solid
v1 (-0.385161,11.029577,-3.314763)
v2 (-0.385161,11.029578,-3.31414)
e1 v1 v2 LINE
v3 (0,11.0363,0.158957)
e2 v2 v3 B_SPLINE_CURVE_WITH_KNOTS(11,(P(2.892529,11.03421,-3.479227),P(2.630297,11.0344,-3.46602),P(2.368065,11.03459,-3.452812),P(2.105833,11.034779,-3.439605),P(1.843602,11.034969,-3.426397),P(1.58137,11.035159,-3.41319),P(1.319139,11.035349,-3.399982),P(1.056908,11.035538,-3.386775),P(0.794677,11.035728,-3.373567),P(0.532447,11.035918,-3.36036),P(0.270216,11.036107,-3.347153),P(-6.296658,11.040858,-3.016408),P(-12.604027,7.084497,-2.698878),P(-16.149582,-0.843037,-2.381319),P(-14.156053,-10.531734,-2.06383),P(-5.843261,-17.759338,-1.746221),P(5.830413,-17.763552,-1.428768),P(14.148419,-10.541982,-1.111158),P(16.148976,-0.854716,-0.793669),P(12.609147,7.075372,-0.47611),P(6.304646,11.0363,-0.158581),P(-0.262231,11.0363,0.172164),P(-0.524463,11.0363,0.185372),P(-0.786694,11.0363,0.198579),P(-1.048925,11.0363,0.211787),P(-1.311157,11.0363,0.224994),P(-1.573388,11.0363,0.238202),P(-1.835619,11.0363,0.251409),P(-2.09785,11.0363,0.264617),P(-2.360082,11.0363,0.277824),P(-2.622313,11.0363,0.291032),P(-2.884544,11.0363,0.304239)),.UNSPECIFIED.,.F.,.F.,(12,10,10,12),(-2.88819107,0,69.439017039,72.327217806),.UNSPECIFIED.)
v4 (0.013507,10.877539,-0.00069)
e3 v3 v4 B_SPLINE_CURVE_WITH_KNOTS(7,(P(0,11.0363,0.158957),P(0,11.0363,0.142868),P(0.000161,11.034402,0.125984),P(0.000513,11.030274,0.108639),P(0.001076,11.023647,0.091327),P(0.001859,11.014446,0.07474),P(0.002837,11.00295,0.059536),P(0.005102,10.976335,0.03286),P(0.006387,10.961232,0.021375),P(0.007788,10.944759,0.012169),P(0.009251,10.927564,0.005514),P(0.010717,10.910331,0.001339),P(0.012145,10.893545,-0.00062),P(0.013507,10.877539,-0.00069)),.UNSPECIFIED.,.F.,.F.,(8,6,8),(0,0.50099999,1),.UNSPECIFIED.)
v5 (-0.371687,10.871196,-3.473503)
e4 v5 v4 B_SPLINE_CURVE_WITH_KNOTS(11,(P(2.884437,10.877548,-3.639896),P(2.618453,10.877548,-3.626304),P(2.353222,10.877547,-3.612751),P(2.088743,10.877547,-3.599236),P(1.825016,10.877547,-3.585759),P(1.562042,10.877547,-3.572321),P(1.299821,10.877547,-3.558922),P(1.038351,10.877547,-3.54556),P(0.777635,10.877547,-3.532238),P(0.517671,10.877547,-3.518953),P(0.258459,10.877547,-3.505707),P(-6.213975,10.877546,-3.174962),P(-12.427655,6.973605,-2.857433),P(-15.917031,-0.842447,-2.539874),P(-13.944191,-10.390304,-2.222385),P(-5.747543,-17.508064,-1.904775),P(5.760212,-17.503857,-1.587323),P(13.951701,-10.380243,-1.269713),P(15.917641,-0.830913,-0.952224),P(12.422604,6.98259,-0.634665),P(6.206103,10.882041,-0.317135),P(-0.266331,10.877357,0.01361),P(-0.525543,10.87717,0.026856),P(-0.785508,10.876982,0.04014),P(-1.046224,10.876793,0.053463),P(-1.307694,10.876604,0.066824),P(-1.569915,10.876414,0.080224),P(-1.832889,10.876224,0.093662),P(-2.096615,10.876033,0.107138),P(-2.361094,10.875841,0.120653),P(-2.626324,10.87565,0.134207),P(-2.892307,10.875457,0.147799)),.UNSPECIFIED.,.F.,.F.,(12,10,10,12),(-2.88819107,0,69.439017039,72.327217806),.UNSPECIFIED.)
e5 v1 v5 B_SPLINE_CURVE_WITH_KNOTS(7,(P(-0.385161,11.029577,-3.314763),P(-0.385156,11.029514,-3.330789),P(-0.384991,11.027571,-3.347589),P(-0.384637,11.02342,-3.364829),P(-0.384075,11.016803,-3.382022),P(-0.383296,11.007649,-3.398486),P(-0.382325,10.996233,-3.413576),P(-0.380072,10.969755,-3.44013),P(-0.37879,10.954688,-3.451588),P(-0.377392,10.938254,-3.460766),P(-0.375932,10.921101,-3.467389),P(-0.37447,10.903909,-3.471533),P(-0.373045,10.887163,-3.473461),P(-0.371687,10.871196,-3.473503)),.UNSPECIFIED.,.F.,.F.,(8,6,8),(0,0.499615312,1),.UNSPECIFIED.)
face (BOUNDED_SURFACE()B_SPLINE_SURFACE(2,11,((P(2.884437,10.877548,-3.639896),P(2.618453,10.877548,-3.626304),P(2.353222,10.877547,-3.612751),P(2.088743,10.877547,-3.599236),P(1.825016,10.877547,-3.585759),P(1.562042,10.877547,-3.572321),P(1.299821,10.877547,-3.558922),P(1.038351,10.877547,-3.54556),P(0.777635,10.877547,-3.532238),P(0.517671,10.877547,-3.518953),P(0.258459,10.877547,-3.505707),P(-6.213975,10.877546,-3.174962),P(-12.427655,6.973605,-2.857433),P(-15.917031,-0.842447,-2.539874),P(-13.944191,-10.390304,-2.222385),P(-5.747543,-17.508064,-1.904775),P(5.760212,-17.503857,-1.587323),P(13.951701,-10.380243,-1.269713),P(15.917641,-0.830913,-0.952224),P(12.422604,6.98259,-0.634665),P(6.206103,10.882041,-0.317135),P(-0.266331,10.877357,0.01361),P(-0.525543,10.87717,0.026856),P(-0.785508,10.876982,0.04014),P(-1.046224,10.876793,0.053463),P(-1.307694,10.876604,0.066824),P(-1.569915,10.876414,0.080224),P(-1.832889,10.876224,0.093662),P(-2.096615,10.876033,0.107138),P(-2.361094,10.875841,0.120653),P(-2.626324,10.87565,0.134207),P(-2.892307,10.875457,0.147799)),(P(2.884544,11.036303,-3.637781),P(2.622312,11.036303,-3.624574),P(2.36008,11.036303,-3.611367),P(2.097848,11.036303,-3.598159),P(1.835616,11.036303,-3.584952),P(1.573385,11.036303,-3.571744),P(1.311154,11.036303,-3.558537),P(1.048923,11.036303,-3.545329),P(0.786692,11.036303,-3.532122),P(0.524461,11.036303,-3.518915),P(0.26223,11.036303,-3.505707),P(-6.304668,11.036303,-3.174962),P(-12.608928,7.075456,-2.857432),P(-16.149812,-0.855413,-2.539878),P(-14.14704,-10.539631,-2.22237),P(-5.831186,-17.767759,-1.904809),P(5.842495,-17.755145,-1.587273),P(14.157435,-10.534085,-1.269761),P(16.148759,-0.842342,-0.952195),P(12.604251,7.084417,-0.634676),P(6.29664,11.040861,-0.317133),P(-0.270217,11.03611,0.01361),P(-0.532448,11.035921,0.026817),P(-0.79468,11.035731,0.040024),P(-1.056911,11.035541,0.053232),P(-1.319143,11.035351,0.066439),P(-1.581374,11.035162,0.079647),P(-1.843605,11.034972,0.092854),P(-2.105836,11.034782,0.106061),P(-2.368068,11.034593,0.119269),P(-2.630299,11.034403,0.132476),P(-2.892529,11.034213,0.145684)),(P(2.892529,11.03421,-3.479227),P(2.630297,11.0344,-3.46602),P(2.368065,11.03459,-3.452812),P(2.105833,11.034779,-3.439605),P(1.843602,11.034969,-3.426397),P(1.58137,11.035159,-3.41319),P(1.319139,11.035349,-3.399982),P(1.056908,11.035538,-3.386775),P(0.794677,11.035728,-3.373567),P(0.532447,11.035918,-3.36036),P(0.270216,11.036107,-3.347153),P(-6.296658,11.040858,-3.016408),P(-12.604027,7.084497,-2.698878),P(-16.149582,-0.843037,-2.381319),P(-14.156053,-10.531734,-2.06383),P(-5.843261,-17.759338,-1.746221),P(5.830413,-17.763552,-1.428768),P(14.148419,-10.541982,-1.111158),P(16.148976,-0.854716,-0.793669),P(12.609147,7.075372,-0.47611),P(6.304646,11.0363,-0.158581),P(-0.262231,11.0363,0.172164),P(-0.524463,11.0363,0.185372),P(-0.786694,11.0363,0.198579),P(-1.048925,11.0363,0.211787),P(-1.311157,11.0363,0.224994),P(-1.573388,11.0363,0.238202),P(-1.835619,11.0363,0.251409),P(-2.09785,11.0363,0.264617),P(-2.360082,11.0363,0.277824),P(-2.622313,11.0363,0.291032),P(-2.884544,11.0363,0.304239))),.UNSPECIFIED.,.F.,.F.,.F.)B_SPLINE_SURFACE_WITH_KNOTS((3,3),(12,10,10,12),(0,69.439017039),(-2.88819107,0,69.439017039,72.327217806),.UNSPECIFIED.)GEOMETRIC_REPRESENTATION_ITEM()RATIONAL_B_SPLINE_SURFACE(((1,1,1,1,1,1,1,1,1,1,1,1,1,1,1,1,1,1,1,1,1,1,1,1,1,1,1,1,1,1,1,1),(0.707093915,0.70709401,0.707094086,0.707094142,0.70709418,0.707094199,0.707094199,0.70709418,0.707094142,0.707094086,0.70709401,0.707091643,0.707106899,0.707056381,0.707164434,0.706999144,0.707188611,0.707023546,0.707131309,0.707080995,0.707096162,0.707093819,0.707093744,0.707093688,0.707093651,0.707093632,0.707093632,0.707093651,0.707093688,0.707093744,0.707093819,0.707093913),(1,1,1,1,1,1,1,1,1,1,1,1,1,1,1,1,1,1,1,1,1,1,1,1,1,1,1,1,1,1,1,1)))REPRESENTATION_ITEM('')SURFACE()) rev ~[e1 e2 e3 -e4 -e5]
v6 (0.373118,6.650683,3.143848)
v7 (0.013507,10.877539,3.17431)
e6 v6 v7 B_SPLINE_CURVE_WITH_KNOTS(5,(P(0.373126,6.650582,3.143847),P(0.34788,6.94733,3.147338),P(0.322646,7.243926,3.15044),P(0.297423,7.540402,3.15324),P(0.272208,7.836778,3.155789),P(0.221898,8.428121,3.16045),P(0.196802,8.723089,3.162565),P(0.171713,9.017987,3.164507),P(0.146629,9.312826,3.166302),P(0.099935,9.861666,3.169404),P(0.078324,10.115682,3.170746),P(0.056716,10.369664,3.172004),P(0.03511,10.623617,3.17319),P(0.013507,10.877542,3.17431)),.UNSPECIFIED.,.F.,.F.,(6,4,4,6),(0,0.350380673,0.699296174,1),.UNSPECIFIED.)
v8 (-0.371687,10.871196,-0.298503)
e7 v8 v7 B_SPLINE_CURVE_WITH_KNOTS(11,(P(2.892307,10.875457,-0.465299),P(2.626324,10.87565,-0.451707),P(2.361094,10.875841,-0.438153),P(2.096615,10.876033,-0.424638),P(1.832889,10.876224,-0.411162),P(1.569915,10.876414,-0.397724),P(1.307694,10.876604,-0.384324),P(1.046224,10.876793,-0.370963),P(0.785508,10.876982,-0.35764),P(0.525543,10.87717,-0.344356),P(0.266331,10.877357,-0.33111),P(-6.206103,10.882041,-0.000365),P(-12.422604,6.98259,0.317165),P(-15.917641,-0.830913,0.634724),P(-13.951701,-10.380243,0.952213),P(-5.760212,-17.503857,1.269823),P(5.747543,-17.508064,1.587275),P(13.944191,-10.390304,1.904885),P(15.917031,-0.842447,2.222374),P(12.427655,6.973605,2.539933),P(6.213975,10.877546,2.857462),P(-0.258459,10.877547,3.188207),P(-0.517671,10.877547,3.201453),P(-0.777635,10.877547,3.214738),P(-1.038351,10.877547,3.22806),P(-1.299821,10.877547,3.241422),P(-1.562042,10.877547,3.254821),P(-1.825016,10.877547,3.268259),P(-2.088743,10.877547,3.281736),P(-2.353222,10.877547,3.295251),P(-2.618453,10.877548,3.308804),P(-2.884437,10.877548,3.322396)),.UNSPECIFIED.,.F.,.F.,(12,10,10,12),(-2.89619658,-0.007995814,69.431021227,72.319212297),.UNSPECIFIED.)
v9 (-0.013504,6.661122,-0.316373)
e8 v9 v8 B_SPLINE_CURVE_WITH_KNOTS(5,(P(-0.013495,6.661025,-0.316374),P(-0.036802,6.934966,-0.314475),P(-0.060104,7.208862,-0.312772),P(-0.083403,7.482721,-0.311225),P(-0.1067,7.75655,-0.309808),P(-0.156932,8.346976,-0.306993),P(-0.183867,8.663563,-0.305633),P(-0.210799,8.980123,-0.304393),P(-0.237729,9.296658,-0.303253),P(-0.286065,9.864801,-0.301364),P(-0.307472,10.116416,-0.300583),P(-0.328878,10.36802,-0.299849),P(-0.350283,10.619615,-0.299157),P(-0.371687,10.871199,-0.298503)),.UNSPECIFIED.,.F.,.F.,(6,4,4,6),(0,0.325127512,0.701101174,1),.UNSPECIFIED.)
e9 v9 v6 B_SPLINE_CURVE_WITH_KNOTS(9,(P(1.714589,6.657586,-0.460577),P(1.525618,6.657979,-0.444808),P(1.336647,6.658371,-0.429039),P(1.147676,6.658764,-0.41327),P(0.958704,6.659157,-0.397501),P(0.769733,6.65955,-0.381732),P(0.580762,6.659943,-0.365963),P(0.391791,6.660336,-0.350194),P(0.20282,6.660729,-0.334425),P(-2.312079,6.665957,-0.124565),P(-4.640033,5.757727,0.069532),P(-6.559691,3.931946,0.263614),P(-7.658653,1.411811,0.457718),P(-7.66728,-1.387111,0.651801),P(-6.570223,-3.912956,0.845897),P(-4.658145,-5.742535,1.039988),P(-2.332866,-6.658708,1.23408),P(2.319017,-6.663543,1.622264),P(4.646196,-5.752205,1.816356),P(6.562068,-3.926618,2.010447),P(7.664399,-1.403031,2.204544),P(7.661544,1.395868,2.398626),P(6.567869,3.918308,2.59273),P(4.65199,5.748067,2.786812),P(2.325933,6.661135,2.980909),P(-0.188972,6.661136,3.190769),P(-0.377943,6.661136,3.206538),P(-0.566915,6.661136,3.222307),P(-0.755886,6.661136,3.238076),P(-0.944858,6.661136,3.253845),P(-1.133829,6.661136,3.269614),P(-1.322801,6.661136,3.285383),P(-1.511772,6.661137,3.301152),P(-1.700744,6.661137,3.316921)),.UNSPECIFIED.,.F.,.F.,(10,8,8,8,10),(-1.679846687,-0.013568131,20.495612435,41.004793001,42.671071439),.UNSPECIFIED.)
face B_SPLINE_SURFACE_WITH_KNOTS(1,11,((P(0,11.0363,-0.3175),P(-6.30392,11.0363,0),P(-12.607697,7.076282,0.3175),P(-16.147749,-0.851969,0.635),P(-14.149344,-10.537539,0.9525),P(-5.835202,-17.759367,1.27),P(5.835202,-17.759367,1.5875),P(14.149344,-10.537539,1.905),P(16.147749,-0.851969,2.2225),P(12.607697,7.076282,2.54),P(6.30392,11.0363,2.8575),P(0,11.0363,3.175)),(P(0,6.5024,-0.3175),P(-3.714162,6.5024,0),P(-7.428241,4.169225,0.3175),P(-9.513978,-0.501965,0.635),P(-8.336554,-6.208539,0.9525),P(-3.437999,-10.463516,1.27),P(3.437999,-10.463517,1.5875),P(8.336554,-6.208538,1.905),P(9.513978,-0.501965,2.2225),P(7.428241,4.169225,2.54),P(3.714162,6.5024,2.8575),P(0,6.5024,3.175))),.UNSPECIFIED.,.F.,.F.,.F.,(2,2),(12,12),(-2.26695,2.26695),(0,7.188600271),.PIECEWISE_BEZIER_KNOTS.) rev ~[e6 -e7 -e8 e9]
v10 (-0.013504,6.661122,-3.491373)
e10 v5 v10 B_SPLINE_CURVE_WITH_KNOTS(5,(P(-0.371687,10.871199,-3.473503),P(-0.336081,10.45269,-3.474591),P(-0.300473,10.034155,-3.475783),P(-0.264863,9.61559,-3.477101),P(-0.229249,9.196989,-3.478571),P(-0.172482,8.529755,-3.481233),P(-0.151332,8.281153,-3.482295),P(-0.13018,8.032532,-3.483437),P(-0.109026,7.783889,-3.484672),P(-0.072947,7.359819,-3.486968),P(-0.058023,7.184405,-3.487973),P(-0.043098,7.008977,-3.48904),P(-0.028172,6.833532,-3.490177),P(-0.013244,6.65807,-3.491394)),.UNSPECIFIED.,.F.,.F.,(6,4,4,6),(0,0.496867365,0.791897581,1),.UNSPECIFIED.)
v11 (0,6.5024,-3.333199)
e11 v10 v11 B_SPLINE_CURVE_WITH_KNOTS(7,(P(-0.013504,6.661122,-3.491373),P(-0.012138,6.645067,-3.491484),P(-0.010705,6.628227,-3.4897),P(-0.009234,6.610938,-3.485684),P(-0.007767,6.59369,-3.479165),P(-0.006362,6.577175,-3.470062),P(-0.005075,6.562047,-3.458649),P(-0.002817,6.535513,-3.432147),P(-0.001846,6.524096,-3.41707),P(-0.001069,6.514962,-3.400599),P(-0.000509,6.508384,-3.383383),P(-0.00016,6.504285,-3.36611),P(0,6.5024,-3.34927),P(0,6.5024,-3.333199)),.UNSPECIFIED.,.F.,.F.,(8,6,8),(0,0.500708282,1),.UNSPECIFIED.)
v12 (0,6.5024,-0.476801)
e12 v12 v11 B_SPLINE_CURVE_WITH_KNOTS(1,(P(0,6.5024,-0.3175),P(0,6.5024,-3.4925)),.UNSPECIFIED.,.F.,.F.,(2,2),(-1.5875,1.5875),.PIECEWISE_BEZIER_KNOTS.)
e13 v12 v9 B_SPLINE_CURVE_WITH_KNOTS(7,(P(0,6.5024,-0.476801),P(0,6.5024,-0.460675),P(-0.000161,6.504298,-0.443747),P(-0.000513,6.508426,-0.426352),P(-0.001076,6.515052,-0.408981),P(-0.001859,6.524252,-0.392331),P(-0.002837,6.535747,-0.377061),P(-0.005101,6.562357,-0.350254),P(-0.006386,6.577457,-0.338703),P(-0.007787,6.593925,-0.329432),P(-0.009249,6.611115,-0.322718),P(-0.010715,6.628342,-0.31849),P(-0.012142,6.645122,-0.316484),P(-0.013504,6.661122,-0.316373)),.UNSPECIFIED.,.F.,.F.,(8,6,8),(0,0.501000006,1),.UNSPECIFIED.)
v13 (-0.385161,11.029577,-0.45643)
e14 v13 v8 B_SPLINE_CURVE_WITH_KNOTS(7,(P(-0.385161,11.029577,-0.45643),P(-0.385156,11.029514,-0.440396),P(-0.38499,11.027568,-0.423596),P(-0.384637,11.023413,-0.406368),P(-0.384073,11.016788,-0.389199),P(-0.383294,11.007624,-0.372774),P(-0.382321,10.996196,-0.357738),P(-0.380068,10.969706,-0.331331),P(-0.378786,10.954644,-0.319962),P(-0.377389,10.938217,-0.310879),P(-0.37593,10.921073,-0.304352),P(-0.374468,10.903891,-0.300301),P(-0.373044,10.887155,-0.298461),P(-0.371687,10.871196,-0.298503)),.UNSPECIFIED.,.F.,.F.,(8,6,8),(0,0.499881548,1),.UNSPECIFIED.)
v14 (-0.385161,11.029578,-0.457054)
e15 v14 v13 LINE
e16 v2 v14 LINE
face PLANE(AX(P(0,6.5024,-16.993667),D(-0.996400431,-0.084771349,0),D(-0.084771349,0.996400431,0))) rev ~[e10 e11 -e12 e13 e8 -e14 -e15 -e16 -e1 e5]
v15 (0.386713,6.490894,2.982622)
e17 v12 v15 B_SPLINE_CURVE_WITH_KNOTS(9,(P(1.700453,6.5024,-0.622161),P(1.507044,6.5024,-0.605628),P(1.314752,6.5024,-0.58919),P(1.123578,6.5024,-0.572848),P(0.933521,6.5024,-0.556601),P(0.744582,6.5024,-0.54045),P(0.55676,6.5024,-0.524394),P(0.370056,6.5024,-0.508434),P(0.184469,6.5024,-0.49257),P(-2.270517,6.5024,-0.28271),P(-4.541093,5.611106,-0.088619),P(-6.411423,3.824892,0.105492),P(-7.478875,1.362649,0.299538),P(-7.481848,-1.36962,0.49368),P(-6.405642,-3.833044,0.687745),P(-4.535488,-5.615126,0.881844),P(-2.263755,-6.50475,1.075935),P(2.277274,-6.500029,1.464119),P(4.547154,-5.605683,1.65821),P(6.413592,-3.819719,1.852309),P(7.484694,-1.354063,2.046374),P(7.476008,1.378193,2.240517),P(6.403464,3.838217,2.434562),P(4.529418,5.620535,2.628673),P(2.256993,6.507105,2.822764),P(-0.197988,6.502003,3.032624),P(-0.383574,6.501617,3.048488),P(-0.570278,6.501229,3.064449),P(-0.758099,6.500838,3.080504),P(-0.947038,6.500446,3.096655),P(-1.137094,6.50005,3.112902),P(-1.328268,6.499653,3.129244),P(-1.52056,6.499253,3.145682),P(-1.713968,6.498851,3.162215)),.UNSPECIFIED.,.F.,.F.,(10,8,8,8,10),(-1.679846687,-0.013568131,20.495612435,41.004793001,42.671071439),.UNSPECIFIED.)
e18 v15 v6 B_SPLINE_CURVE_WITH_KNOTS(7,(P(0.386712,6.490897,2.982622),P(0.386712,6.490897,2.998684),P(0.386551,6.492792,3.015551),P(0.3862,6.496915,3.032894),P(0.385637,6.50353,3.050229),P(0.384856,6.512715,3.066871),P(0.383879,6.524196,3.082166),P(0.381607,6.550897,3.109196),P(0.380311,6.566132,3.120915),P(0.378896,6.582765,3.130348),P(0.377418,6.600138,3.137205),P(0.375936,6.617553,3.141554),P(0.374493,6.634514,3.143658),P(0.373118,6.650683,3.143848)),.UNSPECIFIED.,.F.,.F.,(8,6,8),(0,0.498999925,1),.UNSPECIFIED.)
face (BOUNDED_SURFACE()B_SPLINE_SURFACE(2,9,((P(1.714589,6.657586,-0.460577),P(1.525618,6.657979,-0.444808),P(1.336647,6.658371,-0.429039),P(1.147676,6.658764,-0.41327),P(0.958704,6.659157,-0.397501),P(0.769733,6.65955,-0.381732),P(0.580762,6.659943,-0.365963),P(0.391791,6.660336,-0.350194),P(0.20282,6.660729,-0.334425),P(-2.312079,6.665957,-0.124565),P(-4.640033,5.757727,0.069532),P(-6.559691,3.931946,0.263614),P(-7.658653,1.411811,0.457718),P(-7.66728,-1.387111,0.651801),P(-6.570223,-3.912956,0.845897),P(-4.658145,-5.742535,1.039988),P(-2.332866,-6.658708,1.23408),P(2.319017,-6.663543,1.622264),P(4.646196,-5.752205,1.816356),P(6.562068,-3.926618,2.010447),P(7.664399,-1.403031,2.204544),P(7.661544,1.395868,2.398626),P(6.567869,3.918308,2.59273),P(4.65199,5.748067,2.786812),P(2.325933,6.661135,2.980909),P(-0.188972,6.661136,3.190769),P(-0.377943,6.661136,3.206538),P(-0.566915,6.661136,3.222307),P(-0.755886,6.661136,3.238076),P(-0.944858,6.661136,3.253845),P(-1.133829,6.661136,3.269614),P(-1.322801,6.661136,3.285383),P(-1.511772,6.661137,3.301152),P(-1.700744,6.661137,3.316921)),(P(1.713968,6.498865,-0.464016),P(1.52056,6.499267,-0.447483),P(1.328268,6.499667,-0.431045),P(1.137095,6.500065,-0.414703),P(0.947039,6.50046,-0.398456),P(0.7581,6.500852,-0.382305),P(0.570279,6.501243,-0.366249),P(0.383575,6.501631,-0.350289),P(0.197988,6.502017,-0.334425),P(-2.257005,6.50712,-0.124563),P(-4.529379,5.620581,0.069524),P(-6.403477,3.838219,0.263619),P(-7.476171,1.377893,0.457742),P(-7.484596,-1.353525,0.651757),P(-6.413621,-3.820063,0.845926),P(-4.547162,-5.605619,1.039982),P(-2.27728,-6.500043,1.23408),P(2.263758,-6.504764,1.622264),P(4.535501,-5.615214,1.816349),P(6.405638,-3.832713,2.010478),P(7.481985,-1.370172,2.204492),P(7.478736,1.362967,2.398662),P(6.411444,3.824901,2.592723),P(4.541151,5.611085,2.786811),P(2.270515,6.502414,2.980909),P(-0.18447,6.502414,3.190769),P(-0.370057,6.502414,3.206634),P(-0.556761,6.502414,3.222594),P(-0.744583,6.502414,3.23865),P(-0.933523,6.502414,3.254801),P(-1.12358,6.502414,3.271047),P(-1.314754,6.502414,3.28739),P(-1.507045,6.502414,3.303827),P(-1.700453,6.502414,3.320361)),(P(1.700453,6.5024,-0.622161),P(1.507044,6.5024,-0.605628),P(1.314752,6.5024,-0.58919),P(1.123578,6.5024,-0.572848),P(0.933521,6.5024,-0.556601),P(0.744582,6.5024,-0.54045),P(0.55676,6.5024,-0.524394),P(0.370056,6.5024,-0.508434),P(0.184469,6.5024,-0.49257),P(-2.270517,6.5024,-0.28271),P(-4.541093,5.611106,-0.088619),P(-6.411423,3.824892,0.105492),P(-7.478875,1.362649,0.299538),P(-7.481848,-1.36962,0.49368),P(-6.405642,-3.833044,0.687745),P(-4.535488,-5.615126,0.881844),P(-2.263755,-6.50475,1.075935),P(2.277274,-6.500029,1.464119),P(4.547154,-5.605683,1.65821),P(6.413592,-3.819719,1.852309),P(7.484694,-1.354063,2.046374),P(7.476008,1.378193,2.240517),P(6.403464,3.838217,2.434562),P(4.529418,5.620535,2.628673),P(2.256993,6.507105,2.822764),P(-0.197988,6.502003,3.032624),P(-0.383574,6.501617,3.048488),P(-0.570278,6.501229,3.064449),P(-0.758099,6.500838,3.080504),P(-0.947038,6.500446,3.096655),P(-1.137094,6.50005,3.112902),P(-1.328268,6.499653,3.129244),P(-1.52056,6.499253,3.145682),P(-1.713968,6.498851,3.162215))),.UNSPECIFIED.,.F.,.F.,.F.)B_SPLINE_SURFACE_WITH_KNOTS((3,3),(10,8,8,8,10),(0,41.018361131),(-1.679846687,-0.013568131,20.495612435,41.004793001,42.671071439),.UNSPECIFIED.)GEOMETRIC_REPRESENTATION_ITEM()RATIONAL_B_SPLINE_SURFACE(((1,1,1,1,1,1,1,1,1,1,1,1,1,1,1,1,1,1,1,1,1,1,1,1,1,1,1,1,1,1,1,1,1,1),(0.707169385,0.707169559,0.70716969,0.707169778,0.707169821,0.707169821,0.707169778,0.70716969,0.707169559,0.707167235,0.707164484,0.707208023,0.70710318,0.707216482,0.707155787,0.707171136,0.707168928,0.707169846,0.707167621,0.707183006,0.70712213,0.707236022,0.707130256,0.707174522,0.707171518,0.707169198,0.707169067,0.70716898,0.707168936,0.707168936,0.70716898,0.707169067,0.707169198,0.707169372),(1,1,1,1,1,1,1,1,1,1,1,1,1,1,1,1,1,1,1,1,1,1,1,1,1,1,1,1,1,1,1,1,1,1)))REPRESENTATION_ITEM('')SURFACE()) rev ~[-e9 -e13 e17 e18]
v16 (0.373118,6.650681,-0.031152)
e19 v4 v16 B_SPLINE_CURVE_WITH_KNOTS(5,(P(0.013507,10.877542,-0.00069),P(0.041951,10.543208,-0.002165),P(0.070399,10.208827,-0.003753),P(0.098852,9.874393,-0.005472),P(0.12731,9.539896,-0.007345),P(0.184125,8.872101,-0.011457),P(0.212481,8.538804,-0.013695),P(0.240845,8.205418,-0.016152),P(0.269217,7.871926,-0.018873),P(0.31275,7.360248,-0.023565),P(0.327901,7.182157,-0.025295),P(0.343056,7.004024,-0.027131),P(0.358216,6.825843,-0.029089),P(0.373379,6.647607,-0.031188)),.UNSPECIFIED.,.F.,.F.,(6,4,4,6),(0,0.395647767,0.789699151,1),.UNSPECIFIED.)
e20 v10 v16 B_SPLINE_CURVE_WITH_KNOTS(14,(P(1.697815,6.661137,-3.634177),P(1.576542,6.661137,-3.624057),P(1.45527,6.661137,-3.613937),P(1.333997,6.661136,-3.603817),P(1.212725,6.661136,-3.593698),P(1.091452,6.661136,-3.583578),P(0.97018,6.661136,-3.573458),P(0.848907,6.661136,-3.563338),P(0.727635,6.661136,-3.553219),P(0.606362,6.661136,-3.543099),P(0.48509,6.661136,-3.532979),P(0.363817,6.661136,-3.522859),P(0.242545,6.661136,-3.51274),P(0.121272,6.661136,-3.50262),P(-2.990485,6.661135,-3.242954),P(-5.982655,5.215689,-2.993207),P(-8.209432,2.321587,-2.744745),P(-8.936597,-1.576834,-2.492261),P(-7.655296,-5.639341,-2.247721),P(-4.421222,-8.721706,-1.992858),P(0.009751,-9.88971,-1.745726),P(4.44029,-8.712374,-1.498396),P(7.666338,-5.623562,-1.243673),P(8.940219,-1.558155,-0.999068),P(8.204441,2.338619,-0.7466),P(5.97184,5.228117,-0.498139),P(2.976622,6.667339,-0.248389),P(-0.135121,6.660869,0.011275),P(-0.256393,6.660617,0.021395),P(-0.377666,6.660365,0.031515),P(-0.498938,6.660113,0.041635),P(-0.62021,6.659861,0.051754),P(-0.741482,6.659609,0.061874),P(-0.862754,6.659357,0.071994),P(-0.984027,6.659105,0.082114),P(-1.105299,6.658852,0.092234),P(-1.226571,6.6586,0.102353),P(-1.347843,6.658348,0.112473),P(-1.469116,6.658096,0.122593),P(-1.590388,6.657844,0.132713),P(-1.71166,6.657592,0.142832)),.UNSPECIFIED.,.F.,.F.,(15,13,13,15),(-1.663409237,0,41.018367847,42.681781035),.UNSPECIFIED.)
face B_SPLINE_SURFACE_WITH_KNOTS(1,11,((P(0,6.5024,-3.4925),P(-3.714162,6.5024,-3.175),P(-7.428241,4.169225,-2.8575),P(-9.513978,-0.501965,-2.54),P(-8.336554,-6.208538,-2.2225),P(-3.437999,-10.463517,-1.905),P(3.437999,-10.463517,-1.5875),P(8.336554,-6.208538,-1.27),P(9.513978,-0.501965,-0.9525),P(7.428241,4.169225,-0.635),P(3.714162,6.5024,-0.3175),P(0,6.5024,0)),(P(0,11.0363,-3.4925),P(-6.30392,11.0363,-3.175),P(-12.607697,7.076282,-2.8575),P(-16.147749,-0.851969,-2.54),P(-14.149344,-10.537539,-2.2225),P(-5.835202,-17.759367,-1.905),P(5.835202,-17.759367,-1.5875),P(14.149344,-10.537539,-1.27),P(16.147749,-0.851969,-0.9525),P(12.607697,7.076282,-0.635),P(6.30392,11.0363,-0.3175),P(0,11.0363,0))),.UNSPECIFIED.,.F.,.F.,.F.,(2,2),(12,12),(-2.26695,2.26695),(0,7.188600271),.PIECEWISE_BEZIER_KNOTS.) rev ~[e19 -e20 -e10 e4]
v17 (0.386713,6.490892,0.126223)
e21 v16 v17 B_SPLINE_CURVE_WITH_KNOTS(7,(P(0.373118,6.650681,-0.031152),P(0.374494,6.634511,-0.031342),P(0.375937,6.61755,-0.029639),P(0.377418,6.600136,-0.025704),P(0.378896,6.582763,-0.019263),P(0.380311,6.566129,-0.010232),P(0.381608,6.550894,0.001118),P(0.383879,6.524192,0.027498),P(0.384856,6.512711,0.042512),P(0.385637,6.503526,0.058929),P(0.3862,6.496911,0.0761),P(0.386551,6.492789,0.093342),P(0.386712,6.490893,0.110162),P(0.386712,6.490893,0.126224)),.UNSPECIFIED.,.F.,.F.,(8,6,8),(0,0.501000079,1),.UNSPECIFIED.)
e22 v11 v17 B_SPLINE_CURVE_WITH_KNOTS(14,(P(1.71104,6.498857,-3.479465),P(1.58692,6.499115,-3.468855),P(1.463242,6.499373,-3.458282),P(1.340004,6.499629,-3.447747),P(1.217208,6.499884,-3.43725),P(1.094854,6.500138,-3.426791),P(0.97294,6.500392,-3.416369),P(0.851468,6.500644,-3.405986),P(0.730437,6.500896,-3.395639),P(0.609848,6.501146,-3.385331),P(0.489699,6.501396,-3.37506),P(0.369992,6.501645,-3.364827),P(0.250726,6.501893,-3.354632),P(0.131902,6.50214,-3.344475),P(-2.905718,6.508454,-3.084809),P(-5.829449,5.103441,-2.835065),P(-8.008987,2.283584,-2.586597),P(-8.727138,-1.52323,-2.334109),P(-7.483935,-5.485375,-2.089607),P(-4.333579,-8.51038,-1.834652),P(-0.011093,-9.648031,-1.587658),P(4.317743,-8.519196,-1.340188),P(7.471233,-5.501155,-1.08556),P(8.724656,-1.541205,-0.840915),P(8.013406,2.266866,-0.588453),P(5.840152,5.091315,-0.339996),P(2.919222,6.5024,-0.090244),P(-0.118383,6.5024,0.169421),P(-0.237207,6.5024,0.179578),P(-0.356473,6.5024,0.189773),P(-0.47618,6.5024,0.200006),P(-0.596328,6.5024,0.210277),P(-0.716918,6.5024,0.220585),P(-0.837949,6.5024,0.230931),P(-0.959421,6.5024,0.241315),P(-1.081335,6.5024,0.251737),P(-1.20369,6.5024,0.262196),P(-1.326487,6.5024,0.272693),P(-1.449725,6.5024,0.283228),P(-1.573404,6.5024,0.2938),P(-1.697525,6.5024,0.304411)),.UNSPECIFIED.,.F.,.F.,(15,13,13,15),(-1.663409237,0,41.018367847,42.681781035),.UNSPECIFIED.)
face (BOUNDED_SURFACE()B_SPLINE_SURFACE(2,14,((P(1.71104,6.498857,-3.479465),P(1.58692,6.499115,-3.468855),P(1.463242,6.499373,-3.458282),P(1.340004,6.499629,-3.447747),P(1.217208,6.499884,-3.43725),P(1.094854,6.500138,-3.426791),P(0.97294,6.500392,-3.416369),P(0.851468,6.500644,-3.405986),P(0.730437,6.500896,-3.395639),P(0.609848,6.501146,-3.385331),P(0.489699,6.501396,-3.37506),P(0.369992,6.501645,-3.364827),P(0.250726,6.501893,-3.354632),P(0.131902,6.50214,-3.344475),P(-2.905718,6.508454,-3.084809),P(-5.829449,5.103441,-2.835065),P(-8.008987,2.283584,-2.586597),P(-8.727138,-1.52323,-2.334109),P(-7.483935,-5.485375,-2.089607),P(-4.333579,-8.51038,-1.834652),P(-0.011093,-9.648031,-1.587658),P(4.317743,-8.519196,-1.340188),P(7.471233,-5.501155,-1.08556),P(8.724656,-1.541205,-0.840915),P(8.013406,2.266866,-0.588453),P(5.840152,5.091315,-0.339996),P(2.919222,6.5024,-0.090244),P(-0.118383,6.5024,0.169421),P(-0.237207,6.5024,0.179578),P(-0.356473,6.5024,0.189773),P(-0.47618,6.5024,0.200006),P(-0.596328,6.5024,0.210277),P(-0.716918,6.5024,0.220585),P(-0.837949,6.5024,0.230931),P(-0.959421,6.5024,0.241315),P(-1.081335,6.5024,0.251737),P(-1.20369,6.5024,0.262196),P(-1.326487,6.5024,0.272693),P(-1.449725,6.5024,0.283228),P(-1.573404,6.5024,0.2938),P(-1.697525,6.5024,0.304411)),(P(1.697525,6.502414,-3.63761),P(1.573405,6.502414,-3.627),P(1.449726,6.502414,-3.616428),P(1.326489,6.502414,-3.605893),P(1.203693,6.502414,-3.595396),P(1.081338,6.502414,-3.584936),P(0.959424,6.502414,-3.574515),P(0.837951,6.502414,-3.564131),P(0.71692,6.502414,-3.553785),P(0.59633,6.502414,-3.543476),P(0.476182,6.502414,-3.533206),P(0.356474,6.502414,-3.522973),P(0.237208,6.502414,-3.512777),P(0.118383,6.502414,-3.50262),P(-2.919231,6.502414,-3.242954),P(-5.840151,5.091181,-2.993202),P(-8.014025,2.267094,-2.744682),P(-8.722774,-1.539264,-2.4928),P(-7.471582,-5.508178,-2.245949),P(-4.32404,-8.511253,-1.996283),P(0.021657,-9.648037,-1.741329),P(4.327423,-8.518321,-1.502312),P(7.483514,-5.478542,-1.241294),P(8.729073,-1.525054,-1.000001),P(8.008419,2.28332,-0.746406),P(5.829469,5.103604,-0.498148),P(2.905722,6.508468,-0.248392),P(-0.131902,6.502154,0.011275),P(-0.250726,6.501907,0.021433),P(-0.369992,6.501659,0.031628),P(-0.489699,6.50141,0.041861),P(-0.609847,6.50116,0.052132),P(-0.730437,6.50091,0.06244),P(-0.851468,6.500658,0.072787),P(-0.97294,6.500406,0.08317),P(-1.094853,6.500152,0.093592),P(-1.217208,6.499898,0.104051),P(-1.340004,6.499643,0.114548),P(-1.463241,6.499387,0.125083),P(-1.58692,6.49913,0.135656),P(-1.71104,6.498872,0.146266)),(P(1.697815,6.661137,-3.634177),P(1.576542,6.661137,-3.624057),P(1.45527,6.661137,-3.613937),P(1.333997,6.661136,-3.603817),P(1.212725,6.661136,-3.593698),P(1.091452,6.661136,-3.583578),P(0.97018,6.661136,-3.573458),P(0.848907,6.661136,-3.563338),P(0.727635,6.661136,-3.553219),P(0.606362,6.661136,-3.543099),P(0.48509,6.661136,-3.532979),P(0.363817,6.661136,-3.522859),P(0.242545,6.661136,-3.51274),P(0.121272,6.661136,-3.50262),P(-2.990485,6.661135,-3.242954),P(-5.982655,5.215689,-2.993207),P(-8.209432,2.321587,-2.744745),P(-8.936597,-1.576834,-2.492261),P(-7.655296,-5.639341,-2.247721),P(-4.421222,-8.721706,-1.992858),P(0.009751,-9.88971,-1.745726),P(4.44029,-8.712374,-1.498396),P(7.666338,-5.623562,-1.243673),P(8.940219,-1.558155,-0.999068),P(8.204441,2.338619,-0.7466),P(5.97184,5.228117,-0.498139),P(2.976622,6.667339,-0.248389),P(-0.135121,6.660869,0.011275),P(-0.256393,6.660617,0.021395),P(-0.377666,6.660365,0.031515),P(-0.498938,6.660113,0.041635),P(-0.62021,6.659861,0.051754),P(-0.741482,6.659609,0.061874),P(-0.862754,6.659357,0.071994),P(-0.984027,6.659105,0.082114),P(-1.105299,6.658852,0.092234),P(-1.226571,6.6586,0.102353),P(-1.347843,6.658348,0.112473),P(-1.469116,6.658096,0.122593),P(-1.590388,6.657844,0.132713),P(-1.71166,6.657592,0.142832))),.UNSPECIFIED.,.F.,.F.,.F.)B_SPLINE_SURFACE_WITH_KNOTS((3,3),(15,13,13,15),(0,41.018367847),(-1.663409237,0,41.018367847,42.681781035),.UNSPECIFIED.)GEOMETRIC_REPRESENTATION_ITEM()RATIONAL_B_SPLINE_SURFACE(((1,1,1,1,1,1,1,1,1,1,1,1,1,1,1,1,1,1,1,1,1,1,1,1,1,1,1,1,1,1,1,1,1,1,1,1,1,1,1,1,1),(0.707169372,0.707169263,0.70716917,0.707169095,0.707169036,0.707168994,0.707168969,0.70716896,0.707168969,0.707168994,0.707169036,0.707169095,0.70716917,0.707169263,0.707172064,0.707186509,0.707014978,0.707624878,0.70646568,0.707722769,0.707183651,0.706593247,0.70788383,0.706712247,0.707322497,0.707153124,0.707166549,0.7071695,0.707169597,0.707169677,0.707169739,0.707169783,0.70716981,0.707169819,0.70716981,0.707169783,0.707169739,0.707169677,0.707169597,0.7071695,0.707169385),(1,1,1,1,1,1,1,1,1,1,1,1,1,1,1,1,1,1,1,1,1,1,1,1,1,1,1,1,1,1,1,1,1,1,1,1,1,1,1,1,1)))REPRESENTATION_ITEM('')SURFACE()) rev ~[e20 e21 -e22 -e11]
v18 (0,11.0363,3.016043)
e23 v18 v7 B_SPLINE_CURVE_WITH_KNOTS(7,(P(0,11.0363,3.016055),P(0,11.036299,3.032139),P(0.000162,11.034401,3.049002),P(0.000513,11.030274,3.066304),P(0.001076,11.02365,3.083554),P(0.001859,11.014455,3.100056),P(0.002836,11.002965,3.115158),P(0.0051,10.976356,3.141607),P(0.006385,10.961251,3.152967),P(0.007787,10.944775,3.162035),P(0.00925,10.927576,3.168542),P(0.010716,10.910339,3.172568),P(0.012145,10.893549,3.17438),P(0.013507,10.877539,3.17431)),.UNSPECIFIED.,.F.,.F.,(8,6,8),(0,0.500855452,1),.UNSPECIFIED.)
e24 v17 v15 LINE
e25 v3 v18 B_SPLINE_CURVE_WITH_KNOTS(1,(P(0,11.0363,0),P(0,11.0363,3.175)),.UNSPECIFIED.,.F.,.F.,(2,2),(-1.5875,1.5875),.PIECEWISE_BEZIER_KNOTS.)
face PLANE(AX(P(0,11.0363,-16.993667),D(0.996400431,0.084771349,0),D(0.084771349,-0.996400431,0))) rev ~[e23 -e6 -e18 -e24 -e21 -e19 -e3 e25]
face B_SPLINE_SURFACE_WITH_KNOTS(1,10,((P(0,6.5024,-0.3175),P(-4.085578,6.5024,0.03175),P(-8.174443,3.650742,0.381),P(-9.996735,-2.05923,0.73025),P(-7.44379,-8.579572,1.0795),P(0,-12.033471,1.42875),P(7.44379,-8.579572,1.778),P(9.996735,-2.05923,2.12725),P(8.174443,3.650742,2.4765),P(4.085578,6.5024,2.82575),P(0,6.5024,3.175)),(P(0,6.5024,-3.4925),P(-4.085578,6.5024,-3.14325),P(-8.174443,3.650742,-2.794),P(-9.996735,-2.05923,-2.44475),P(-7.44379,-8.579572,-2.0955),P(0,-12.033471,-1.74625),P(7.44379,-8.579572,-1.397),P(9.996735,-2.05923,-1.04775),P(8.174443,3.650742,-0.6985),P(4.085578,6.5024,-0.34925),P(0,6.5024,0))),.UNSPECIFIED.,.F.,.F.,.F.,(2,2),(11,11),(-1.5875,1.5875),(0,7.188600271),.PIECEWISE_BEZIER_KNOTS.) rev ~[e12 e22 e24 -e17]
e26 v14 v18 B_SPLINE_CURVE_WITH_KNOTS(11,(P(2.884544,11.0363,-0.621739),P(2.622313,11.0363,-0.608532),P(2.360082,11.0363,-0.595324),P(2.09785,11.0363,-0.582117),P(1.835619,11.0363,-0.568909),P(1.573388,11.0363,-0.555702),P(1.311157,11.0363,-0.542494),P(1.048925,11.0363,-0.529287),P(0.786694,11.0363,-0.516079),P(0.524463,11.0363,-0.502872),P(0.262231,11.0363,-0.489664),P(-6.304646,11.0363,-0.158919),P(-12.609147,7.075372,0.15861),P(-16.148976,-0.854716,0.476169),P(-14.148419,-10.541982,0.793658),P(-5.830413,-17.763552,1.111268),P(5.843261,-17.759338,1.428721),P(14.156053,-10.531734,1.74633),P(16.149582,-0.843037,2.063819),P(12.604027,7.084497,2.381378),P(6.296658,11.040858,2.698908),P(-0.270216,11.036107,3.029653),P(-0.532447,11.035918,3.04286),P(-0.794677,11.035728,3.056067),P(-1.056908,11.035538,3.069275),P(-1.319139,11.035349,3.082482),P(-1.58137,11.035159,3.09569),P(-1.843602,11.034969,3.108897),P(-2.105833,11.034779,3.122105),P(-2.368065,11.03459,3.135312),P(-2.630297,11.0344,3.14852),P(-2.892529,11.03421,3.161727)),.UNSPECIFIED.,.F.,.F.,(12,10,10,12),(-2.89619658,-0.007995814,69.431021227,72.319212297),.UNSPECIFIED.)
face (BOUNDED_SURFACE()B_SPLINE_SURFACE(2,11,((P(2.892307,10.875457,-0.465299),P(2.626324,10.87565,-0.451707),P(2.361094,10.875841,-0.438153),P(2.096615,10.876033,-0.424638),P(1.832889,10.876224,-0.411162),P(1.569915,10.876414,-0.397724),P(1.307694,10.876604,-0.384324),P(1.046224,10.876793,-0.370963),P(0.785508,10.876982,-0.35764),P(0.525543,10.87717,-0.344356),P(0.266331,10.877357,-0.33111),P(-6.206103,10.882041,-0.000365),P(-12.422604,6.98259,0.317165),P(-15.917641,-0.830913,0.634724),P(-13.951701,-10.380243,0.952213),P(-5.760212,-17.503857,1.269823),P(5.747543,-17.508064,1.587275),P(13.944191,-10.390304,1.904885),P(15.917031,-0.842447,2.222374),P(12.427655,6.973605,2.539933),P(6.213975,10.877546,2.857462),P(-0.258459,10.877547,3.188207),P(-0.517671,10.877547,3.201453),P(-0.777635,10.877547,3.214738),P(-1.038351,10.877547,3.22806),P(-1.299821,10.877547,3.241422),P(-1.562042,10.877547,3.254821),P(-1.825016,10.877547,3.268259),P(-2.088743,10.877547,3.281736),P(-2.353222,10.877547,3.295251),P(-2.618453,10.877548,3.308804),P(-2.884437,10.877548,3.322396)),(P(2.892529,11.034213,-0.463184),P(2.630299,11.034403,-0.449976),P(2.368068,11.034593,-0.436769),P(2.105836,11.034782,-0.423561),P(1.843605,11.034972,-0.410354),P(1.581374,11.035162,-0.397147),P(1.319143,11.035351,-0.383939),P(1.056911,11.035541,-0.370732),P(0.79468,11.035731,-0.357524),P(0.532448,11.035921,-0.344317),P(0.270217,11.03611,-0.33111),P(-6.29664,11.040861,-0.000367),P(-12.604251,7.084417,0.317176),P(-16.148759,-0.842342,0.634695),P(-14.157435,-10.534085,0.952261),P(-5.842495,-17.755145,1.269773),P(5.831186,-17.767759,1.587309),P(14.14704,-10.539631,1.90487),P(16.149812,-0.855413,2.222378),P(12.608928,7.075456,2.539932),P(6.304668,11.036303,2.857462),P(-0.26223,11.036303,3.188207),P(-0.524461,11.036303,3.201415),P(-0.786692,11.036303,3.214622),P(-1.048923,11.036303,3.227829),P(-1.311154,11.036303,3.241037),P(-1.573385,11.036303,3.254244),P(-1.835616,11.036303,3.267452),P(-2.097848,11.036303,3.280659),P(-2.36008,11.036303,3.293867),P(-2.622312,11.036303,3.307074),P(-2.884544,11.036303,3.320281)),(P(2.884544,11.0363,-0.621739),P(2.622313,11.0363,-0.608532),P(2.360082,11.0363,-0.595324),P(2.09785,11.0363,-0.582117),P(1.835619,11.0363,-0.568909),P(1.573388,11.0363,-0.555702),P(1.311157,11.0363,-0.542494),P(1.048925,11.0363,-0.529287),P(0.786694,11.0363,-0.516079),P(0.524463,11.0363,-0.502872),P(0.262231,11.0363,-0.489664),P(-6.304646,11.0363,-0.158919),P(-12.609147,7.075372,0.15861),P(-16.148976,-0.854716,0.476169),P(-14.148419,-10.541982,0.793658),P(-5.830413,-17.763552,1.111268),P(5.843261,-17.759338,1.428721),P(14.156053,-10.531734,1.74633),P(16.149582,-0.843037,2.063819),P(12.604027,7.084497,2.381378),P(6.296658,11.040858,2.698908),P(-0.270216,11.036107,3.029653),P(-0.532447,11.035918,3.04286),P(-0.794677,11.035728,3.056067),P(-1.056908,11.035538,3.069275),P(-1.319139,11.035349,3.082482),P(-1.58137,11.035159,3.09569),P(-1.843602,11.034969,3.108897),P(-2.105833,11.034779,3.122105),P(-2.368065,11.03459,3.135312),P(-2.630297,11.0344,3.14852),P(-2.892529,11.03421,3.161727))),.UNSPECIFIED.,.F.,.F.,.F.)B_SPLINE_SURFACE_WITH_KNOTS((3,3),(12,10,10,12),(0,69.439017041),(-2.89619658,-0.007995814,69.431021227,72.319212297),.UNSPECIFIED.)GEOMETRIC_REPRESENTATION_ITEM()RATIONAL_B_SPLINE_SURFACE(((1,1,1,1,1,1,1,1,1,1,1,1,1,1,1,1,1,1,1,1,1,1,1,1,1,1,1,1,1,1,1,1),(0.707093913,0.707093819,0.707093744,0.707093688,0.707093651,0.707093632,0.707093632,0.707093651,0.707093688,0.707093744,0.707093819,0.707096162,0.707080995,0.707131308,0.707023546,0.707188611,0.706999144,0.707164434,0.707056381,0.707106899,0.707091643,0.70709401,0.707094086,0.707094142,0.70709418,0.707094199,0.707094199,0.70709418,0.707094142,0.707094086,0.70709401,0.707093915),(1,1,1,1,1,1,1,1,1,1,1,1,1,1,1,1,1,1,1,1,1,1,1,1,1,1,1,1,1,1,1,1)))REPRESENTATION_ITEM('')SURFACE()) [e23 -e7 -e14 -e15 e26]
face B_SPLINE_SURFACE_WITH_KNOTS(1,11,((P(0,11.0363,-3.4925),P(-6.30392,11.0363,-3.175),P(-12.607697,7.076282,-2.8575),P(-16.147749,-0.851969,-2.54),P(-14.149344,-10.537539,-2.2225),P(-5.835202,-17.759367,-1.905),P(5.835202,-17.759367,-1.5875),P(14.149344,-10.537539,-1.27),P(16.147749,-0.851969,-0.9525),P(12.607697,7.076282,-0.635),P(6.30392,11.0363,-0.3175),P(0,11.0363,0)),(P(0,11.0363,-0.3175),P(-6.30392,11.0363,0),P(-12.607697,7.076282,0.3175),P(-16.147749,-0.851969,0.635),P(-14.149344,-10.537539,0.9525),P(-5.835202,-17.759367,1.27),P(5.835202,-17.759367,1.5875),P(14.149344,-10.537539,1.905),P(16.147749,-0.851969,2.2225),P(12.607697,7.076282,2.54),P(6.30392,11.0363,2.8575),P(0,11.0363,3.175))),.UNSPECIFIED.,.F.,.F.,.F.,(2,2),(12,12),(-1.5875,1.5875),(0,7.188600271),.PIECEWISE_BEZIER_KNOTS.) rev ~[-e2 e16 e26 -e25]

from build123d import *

# Parameters (mm, degrees)
SWEEP1_PITCH            = 3.4925
SWEEP1_HEIGHT           = 3.4925
SWEEP1_RADIUS           = 11.0363
SWEEP1_START_ANGLE      = 90
SKETCH4_W               = 3.175
SKETCH4_H               = 4.5339
FILLET1_R               = 0.15875
CUT_EXTRUDE1_DEPTH      = 16.993666972
CUT_EXTRUDE1_DEPTH_BACK = 16.993666972


with BuildPart() as part:
    # Sweep1: sweep along a helix
    with BuildLine() as sweep1_path:
        add(Helix(SWEEP1_PITCH, SWEEP1_HEIGHT, SWEEP1_RADIUS, center=(0, 0, -3.4925), direction=(0, 0, 1), mode=Mode.PRIVATE).rotate(Axis((0, 0, -3.4925), (0, 0, 1)), SWEEP1_START_ANGLE))
    # Sketch4 → Sweep1 (sweep)
    with BuildSketch(Plane(origin=(0, 0, 0), x_dir=(0, 0, -1), z_dir=(1, 0, 0))):
        with Locations((1.905, 8.76935)):
            Rectangle(SKETCH4_W, SKETCH4_H)
    sweep(path=sweep1_path.line, is_frenet=True)

    # Fillet1
    fillet1_edges = [part.edges().sort_by_distance(p)[0] for p in [
        (0, -11.036288119, 1.42875),
        (0, -6.502393, 1.42875),
        (0, -6.502393, -1.74625),
        (0, -11.036288119, -1.74625),
    ]]
    fillet(fillet1_edges, radius=FILLET1_R)

    # Sketch5 → Cut-Extrude1 (cut, two sides: drawn at the far end of the back side and taken through both)
    with BuildSketch(Plane.XY.offset(-CUT_EXTRUDE1_DEPTH_BACK)):
        with BuildLine():
            Line((0, 11.0363), (0.386712496, 6.490890479))
            Line((0.386712496, 6.490890479), (0.386712496, 0))
            Line((0.386712496, 0), (0, 0))
            Line((0, 0), (0, 6.5024))
            Line((0, 6.5024), (-0.385161315, 11.029576984))
            ThreePointArc((-0.385161315, 11.029576984), (-0.192609993, 11.034619118), (0, 11.0363))
        make_face()
    extrude(amount=CUT_EXTRUDE1_DEPTH + CUT_EXTRUDE1_DEPTH_BACK, mode=Mode.SUBTRACT)


solid = part.part
